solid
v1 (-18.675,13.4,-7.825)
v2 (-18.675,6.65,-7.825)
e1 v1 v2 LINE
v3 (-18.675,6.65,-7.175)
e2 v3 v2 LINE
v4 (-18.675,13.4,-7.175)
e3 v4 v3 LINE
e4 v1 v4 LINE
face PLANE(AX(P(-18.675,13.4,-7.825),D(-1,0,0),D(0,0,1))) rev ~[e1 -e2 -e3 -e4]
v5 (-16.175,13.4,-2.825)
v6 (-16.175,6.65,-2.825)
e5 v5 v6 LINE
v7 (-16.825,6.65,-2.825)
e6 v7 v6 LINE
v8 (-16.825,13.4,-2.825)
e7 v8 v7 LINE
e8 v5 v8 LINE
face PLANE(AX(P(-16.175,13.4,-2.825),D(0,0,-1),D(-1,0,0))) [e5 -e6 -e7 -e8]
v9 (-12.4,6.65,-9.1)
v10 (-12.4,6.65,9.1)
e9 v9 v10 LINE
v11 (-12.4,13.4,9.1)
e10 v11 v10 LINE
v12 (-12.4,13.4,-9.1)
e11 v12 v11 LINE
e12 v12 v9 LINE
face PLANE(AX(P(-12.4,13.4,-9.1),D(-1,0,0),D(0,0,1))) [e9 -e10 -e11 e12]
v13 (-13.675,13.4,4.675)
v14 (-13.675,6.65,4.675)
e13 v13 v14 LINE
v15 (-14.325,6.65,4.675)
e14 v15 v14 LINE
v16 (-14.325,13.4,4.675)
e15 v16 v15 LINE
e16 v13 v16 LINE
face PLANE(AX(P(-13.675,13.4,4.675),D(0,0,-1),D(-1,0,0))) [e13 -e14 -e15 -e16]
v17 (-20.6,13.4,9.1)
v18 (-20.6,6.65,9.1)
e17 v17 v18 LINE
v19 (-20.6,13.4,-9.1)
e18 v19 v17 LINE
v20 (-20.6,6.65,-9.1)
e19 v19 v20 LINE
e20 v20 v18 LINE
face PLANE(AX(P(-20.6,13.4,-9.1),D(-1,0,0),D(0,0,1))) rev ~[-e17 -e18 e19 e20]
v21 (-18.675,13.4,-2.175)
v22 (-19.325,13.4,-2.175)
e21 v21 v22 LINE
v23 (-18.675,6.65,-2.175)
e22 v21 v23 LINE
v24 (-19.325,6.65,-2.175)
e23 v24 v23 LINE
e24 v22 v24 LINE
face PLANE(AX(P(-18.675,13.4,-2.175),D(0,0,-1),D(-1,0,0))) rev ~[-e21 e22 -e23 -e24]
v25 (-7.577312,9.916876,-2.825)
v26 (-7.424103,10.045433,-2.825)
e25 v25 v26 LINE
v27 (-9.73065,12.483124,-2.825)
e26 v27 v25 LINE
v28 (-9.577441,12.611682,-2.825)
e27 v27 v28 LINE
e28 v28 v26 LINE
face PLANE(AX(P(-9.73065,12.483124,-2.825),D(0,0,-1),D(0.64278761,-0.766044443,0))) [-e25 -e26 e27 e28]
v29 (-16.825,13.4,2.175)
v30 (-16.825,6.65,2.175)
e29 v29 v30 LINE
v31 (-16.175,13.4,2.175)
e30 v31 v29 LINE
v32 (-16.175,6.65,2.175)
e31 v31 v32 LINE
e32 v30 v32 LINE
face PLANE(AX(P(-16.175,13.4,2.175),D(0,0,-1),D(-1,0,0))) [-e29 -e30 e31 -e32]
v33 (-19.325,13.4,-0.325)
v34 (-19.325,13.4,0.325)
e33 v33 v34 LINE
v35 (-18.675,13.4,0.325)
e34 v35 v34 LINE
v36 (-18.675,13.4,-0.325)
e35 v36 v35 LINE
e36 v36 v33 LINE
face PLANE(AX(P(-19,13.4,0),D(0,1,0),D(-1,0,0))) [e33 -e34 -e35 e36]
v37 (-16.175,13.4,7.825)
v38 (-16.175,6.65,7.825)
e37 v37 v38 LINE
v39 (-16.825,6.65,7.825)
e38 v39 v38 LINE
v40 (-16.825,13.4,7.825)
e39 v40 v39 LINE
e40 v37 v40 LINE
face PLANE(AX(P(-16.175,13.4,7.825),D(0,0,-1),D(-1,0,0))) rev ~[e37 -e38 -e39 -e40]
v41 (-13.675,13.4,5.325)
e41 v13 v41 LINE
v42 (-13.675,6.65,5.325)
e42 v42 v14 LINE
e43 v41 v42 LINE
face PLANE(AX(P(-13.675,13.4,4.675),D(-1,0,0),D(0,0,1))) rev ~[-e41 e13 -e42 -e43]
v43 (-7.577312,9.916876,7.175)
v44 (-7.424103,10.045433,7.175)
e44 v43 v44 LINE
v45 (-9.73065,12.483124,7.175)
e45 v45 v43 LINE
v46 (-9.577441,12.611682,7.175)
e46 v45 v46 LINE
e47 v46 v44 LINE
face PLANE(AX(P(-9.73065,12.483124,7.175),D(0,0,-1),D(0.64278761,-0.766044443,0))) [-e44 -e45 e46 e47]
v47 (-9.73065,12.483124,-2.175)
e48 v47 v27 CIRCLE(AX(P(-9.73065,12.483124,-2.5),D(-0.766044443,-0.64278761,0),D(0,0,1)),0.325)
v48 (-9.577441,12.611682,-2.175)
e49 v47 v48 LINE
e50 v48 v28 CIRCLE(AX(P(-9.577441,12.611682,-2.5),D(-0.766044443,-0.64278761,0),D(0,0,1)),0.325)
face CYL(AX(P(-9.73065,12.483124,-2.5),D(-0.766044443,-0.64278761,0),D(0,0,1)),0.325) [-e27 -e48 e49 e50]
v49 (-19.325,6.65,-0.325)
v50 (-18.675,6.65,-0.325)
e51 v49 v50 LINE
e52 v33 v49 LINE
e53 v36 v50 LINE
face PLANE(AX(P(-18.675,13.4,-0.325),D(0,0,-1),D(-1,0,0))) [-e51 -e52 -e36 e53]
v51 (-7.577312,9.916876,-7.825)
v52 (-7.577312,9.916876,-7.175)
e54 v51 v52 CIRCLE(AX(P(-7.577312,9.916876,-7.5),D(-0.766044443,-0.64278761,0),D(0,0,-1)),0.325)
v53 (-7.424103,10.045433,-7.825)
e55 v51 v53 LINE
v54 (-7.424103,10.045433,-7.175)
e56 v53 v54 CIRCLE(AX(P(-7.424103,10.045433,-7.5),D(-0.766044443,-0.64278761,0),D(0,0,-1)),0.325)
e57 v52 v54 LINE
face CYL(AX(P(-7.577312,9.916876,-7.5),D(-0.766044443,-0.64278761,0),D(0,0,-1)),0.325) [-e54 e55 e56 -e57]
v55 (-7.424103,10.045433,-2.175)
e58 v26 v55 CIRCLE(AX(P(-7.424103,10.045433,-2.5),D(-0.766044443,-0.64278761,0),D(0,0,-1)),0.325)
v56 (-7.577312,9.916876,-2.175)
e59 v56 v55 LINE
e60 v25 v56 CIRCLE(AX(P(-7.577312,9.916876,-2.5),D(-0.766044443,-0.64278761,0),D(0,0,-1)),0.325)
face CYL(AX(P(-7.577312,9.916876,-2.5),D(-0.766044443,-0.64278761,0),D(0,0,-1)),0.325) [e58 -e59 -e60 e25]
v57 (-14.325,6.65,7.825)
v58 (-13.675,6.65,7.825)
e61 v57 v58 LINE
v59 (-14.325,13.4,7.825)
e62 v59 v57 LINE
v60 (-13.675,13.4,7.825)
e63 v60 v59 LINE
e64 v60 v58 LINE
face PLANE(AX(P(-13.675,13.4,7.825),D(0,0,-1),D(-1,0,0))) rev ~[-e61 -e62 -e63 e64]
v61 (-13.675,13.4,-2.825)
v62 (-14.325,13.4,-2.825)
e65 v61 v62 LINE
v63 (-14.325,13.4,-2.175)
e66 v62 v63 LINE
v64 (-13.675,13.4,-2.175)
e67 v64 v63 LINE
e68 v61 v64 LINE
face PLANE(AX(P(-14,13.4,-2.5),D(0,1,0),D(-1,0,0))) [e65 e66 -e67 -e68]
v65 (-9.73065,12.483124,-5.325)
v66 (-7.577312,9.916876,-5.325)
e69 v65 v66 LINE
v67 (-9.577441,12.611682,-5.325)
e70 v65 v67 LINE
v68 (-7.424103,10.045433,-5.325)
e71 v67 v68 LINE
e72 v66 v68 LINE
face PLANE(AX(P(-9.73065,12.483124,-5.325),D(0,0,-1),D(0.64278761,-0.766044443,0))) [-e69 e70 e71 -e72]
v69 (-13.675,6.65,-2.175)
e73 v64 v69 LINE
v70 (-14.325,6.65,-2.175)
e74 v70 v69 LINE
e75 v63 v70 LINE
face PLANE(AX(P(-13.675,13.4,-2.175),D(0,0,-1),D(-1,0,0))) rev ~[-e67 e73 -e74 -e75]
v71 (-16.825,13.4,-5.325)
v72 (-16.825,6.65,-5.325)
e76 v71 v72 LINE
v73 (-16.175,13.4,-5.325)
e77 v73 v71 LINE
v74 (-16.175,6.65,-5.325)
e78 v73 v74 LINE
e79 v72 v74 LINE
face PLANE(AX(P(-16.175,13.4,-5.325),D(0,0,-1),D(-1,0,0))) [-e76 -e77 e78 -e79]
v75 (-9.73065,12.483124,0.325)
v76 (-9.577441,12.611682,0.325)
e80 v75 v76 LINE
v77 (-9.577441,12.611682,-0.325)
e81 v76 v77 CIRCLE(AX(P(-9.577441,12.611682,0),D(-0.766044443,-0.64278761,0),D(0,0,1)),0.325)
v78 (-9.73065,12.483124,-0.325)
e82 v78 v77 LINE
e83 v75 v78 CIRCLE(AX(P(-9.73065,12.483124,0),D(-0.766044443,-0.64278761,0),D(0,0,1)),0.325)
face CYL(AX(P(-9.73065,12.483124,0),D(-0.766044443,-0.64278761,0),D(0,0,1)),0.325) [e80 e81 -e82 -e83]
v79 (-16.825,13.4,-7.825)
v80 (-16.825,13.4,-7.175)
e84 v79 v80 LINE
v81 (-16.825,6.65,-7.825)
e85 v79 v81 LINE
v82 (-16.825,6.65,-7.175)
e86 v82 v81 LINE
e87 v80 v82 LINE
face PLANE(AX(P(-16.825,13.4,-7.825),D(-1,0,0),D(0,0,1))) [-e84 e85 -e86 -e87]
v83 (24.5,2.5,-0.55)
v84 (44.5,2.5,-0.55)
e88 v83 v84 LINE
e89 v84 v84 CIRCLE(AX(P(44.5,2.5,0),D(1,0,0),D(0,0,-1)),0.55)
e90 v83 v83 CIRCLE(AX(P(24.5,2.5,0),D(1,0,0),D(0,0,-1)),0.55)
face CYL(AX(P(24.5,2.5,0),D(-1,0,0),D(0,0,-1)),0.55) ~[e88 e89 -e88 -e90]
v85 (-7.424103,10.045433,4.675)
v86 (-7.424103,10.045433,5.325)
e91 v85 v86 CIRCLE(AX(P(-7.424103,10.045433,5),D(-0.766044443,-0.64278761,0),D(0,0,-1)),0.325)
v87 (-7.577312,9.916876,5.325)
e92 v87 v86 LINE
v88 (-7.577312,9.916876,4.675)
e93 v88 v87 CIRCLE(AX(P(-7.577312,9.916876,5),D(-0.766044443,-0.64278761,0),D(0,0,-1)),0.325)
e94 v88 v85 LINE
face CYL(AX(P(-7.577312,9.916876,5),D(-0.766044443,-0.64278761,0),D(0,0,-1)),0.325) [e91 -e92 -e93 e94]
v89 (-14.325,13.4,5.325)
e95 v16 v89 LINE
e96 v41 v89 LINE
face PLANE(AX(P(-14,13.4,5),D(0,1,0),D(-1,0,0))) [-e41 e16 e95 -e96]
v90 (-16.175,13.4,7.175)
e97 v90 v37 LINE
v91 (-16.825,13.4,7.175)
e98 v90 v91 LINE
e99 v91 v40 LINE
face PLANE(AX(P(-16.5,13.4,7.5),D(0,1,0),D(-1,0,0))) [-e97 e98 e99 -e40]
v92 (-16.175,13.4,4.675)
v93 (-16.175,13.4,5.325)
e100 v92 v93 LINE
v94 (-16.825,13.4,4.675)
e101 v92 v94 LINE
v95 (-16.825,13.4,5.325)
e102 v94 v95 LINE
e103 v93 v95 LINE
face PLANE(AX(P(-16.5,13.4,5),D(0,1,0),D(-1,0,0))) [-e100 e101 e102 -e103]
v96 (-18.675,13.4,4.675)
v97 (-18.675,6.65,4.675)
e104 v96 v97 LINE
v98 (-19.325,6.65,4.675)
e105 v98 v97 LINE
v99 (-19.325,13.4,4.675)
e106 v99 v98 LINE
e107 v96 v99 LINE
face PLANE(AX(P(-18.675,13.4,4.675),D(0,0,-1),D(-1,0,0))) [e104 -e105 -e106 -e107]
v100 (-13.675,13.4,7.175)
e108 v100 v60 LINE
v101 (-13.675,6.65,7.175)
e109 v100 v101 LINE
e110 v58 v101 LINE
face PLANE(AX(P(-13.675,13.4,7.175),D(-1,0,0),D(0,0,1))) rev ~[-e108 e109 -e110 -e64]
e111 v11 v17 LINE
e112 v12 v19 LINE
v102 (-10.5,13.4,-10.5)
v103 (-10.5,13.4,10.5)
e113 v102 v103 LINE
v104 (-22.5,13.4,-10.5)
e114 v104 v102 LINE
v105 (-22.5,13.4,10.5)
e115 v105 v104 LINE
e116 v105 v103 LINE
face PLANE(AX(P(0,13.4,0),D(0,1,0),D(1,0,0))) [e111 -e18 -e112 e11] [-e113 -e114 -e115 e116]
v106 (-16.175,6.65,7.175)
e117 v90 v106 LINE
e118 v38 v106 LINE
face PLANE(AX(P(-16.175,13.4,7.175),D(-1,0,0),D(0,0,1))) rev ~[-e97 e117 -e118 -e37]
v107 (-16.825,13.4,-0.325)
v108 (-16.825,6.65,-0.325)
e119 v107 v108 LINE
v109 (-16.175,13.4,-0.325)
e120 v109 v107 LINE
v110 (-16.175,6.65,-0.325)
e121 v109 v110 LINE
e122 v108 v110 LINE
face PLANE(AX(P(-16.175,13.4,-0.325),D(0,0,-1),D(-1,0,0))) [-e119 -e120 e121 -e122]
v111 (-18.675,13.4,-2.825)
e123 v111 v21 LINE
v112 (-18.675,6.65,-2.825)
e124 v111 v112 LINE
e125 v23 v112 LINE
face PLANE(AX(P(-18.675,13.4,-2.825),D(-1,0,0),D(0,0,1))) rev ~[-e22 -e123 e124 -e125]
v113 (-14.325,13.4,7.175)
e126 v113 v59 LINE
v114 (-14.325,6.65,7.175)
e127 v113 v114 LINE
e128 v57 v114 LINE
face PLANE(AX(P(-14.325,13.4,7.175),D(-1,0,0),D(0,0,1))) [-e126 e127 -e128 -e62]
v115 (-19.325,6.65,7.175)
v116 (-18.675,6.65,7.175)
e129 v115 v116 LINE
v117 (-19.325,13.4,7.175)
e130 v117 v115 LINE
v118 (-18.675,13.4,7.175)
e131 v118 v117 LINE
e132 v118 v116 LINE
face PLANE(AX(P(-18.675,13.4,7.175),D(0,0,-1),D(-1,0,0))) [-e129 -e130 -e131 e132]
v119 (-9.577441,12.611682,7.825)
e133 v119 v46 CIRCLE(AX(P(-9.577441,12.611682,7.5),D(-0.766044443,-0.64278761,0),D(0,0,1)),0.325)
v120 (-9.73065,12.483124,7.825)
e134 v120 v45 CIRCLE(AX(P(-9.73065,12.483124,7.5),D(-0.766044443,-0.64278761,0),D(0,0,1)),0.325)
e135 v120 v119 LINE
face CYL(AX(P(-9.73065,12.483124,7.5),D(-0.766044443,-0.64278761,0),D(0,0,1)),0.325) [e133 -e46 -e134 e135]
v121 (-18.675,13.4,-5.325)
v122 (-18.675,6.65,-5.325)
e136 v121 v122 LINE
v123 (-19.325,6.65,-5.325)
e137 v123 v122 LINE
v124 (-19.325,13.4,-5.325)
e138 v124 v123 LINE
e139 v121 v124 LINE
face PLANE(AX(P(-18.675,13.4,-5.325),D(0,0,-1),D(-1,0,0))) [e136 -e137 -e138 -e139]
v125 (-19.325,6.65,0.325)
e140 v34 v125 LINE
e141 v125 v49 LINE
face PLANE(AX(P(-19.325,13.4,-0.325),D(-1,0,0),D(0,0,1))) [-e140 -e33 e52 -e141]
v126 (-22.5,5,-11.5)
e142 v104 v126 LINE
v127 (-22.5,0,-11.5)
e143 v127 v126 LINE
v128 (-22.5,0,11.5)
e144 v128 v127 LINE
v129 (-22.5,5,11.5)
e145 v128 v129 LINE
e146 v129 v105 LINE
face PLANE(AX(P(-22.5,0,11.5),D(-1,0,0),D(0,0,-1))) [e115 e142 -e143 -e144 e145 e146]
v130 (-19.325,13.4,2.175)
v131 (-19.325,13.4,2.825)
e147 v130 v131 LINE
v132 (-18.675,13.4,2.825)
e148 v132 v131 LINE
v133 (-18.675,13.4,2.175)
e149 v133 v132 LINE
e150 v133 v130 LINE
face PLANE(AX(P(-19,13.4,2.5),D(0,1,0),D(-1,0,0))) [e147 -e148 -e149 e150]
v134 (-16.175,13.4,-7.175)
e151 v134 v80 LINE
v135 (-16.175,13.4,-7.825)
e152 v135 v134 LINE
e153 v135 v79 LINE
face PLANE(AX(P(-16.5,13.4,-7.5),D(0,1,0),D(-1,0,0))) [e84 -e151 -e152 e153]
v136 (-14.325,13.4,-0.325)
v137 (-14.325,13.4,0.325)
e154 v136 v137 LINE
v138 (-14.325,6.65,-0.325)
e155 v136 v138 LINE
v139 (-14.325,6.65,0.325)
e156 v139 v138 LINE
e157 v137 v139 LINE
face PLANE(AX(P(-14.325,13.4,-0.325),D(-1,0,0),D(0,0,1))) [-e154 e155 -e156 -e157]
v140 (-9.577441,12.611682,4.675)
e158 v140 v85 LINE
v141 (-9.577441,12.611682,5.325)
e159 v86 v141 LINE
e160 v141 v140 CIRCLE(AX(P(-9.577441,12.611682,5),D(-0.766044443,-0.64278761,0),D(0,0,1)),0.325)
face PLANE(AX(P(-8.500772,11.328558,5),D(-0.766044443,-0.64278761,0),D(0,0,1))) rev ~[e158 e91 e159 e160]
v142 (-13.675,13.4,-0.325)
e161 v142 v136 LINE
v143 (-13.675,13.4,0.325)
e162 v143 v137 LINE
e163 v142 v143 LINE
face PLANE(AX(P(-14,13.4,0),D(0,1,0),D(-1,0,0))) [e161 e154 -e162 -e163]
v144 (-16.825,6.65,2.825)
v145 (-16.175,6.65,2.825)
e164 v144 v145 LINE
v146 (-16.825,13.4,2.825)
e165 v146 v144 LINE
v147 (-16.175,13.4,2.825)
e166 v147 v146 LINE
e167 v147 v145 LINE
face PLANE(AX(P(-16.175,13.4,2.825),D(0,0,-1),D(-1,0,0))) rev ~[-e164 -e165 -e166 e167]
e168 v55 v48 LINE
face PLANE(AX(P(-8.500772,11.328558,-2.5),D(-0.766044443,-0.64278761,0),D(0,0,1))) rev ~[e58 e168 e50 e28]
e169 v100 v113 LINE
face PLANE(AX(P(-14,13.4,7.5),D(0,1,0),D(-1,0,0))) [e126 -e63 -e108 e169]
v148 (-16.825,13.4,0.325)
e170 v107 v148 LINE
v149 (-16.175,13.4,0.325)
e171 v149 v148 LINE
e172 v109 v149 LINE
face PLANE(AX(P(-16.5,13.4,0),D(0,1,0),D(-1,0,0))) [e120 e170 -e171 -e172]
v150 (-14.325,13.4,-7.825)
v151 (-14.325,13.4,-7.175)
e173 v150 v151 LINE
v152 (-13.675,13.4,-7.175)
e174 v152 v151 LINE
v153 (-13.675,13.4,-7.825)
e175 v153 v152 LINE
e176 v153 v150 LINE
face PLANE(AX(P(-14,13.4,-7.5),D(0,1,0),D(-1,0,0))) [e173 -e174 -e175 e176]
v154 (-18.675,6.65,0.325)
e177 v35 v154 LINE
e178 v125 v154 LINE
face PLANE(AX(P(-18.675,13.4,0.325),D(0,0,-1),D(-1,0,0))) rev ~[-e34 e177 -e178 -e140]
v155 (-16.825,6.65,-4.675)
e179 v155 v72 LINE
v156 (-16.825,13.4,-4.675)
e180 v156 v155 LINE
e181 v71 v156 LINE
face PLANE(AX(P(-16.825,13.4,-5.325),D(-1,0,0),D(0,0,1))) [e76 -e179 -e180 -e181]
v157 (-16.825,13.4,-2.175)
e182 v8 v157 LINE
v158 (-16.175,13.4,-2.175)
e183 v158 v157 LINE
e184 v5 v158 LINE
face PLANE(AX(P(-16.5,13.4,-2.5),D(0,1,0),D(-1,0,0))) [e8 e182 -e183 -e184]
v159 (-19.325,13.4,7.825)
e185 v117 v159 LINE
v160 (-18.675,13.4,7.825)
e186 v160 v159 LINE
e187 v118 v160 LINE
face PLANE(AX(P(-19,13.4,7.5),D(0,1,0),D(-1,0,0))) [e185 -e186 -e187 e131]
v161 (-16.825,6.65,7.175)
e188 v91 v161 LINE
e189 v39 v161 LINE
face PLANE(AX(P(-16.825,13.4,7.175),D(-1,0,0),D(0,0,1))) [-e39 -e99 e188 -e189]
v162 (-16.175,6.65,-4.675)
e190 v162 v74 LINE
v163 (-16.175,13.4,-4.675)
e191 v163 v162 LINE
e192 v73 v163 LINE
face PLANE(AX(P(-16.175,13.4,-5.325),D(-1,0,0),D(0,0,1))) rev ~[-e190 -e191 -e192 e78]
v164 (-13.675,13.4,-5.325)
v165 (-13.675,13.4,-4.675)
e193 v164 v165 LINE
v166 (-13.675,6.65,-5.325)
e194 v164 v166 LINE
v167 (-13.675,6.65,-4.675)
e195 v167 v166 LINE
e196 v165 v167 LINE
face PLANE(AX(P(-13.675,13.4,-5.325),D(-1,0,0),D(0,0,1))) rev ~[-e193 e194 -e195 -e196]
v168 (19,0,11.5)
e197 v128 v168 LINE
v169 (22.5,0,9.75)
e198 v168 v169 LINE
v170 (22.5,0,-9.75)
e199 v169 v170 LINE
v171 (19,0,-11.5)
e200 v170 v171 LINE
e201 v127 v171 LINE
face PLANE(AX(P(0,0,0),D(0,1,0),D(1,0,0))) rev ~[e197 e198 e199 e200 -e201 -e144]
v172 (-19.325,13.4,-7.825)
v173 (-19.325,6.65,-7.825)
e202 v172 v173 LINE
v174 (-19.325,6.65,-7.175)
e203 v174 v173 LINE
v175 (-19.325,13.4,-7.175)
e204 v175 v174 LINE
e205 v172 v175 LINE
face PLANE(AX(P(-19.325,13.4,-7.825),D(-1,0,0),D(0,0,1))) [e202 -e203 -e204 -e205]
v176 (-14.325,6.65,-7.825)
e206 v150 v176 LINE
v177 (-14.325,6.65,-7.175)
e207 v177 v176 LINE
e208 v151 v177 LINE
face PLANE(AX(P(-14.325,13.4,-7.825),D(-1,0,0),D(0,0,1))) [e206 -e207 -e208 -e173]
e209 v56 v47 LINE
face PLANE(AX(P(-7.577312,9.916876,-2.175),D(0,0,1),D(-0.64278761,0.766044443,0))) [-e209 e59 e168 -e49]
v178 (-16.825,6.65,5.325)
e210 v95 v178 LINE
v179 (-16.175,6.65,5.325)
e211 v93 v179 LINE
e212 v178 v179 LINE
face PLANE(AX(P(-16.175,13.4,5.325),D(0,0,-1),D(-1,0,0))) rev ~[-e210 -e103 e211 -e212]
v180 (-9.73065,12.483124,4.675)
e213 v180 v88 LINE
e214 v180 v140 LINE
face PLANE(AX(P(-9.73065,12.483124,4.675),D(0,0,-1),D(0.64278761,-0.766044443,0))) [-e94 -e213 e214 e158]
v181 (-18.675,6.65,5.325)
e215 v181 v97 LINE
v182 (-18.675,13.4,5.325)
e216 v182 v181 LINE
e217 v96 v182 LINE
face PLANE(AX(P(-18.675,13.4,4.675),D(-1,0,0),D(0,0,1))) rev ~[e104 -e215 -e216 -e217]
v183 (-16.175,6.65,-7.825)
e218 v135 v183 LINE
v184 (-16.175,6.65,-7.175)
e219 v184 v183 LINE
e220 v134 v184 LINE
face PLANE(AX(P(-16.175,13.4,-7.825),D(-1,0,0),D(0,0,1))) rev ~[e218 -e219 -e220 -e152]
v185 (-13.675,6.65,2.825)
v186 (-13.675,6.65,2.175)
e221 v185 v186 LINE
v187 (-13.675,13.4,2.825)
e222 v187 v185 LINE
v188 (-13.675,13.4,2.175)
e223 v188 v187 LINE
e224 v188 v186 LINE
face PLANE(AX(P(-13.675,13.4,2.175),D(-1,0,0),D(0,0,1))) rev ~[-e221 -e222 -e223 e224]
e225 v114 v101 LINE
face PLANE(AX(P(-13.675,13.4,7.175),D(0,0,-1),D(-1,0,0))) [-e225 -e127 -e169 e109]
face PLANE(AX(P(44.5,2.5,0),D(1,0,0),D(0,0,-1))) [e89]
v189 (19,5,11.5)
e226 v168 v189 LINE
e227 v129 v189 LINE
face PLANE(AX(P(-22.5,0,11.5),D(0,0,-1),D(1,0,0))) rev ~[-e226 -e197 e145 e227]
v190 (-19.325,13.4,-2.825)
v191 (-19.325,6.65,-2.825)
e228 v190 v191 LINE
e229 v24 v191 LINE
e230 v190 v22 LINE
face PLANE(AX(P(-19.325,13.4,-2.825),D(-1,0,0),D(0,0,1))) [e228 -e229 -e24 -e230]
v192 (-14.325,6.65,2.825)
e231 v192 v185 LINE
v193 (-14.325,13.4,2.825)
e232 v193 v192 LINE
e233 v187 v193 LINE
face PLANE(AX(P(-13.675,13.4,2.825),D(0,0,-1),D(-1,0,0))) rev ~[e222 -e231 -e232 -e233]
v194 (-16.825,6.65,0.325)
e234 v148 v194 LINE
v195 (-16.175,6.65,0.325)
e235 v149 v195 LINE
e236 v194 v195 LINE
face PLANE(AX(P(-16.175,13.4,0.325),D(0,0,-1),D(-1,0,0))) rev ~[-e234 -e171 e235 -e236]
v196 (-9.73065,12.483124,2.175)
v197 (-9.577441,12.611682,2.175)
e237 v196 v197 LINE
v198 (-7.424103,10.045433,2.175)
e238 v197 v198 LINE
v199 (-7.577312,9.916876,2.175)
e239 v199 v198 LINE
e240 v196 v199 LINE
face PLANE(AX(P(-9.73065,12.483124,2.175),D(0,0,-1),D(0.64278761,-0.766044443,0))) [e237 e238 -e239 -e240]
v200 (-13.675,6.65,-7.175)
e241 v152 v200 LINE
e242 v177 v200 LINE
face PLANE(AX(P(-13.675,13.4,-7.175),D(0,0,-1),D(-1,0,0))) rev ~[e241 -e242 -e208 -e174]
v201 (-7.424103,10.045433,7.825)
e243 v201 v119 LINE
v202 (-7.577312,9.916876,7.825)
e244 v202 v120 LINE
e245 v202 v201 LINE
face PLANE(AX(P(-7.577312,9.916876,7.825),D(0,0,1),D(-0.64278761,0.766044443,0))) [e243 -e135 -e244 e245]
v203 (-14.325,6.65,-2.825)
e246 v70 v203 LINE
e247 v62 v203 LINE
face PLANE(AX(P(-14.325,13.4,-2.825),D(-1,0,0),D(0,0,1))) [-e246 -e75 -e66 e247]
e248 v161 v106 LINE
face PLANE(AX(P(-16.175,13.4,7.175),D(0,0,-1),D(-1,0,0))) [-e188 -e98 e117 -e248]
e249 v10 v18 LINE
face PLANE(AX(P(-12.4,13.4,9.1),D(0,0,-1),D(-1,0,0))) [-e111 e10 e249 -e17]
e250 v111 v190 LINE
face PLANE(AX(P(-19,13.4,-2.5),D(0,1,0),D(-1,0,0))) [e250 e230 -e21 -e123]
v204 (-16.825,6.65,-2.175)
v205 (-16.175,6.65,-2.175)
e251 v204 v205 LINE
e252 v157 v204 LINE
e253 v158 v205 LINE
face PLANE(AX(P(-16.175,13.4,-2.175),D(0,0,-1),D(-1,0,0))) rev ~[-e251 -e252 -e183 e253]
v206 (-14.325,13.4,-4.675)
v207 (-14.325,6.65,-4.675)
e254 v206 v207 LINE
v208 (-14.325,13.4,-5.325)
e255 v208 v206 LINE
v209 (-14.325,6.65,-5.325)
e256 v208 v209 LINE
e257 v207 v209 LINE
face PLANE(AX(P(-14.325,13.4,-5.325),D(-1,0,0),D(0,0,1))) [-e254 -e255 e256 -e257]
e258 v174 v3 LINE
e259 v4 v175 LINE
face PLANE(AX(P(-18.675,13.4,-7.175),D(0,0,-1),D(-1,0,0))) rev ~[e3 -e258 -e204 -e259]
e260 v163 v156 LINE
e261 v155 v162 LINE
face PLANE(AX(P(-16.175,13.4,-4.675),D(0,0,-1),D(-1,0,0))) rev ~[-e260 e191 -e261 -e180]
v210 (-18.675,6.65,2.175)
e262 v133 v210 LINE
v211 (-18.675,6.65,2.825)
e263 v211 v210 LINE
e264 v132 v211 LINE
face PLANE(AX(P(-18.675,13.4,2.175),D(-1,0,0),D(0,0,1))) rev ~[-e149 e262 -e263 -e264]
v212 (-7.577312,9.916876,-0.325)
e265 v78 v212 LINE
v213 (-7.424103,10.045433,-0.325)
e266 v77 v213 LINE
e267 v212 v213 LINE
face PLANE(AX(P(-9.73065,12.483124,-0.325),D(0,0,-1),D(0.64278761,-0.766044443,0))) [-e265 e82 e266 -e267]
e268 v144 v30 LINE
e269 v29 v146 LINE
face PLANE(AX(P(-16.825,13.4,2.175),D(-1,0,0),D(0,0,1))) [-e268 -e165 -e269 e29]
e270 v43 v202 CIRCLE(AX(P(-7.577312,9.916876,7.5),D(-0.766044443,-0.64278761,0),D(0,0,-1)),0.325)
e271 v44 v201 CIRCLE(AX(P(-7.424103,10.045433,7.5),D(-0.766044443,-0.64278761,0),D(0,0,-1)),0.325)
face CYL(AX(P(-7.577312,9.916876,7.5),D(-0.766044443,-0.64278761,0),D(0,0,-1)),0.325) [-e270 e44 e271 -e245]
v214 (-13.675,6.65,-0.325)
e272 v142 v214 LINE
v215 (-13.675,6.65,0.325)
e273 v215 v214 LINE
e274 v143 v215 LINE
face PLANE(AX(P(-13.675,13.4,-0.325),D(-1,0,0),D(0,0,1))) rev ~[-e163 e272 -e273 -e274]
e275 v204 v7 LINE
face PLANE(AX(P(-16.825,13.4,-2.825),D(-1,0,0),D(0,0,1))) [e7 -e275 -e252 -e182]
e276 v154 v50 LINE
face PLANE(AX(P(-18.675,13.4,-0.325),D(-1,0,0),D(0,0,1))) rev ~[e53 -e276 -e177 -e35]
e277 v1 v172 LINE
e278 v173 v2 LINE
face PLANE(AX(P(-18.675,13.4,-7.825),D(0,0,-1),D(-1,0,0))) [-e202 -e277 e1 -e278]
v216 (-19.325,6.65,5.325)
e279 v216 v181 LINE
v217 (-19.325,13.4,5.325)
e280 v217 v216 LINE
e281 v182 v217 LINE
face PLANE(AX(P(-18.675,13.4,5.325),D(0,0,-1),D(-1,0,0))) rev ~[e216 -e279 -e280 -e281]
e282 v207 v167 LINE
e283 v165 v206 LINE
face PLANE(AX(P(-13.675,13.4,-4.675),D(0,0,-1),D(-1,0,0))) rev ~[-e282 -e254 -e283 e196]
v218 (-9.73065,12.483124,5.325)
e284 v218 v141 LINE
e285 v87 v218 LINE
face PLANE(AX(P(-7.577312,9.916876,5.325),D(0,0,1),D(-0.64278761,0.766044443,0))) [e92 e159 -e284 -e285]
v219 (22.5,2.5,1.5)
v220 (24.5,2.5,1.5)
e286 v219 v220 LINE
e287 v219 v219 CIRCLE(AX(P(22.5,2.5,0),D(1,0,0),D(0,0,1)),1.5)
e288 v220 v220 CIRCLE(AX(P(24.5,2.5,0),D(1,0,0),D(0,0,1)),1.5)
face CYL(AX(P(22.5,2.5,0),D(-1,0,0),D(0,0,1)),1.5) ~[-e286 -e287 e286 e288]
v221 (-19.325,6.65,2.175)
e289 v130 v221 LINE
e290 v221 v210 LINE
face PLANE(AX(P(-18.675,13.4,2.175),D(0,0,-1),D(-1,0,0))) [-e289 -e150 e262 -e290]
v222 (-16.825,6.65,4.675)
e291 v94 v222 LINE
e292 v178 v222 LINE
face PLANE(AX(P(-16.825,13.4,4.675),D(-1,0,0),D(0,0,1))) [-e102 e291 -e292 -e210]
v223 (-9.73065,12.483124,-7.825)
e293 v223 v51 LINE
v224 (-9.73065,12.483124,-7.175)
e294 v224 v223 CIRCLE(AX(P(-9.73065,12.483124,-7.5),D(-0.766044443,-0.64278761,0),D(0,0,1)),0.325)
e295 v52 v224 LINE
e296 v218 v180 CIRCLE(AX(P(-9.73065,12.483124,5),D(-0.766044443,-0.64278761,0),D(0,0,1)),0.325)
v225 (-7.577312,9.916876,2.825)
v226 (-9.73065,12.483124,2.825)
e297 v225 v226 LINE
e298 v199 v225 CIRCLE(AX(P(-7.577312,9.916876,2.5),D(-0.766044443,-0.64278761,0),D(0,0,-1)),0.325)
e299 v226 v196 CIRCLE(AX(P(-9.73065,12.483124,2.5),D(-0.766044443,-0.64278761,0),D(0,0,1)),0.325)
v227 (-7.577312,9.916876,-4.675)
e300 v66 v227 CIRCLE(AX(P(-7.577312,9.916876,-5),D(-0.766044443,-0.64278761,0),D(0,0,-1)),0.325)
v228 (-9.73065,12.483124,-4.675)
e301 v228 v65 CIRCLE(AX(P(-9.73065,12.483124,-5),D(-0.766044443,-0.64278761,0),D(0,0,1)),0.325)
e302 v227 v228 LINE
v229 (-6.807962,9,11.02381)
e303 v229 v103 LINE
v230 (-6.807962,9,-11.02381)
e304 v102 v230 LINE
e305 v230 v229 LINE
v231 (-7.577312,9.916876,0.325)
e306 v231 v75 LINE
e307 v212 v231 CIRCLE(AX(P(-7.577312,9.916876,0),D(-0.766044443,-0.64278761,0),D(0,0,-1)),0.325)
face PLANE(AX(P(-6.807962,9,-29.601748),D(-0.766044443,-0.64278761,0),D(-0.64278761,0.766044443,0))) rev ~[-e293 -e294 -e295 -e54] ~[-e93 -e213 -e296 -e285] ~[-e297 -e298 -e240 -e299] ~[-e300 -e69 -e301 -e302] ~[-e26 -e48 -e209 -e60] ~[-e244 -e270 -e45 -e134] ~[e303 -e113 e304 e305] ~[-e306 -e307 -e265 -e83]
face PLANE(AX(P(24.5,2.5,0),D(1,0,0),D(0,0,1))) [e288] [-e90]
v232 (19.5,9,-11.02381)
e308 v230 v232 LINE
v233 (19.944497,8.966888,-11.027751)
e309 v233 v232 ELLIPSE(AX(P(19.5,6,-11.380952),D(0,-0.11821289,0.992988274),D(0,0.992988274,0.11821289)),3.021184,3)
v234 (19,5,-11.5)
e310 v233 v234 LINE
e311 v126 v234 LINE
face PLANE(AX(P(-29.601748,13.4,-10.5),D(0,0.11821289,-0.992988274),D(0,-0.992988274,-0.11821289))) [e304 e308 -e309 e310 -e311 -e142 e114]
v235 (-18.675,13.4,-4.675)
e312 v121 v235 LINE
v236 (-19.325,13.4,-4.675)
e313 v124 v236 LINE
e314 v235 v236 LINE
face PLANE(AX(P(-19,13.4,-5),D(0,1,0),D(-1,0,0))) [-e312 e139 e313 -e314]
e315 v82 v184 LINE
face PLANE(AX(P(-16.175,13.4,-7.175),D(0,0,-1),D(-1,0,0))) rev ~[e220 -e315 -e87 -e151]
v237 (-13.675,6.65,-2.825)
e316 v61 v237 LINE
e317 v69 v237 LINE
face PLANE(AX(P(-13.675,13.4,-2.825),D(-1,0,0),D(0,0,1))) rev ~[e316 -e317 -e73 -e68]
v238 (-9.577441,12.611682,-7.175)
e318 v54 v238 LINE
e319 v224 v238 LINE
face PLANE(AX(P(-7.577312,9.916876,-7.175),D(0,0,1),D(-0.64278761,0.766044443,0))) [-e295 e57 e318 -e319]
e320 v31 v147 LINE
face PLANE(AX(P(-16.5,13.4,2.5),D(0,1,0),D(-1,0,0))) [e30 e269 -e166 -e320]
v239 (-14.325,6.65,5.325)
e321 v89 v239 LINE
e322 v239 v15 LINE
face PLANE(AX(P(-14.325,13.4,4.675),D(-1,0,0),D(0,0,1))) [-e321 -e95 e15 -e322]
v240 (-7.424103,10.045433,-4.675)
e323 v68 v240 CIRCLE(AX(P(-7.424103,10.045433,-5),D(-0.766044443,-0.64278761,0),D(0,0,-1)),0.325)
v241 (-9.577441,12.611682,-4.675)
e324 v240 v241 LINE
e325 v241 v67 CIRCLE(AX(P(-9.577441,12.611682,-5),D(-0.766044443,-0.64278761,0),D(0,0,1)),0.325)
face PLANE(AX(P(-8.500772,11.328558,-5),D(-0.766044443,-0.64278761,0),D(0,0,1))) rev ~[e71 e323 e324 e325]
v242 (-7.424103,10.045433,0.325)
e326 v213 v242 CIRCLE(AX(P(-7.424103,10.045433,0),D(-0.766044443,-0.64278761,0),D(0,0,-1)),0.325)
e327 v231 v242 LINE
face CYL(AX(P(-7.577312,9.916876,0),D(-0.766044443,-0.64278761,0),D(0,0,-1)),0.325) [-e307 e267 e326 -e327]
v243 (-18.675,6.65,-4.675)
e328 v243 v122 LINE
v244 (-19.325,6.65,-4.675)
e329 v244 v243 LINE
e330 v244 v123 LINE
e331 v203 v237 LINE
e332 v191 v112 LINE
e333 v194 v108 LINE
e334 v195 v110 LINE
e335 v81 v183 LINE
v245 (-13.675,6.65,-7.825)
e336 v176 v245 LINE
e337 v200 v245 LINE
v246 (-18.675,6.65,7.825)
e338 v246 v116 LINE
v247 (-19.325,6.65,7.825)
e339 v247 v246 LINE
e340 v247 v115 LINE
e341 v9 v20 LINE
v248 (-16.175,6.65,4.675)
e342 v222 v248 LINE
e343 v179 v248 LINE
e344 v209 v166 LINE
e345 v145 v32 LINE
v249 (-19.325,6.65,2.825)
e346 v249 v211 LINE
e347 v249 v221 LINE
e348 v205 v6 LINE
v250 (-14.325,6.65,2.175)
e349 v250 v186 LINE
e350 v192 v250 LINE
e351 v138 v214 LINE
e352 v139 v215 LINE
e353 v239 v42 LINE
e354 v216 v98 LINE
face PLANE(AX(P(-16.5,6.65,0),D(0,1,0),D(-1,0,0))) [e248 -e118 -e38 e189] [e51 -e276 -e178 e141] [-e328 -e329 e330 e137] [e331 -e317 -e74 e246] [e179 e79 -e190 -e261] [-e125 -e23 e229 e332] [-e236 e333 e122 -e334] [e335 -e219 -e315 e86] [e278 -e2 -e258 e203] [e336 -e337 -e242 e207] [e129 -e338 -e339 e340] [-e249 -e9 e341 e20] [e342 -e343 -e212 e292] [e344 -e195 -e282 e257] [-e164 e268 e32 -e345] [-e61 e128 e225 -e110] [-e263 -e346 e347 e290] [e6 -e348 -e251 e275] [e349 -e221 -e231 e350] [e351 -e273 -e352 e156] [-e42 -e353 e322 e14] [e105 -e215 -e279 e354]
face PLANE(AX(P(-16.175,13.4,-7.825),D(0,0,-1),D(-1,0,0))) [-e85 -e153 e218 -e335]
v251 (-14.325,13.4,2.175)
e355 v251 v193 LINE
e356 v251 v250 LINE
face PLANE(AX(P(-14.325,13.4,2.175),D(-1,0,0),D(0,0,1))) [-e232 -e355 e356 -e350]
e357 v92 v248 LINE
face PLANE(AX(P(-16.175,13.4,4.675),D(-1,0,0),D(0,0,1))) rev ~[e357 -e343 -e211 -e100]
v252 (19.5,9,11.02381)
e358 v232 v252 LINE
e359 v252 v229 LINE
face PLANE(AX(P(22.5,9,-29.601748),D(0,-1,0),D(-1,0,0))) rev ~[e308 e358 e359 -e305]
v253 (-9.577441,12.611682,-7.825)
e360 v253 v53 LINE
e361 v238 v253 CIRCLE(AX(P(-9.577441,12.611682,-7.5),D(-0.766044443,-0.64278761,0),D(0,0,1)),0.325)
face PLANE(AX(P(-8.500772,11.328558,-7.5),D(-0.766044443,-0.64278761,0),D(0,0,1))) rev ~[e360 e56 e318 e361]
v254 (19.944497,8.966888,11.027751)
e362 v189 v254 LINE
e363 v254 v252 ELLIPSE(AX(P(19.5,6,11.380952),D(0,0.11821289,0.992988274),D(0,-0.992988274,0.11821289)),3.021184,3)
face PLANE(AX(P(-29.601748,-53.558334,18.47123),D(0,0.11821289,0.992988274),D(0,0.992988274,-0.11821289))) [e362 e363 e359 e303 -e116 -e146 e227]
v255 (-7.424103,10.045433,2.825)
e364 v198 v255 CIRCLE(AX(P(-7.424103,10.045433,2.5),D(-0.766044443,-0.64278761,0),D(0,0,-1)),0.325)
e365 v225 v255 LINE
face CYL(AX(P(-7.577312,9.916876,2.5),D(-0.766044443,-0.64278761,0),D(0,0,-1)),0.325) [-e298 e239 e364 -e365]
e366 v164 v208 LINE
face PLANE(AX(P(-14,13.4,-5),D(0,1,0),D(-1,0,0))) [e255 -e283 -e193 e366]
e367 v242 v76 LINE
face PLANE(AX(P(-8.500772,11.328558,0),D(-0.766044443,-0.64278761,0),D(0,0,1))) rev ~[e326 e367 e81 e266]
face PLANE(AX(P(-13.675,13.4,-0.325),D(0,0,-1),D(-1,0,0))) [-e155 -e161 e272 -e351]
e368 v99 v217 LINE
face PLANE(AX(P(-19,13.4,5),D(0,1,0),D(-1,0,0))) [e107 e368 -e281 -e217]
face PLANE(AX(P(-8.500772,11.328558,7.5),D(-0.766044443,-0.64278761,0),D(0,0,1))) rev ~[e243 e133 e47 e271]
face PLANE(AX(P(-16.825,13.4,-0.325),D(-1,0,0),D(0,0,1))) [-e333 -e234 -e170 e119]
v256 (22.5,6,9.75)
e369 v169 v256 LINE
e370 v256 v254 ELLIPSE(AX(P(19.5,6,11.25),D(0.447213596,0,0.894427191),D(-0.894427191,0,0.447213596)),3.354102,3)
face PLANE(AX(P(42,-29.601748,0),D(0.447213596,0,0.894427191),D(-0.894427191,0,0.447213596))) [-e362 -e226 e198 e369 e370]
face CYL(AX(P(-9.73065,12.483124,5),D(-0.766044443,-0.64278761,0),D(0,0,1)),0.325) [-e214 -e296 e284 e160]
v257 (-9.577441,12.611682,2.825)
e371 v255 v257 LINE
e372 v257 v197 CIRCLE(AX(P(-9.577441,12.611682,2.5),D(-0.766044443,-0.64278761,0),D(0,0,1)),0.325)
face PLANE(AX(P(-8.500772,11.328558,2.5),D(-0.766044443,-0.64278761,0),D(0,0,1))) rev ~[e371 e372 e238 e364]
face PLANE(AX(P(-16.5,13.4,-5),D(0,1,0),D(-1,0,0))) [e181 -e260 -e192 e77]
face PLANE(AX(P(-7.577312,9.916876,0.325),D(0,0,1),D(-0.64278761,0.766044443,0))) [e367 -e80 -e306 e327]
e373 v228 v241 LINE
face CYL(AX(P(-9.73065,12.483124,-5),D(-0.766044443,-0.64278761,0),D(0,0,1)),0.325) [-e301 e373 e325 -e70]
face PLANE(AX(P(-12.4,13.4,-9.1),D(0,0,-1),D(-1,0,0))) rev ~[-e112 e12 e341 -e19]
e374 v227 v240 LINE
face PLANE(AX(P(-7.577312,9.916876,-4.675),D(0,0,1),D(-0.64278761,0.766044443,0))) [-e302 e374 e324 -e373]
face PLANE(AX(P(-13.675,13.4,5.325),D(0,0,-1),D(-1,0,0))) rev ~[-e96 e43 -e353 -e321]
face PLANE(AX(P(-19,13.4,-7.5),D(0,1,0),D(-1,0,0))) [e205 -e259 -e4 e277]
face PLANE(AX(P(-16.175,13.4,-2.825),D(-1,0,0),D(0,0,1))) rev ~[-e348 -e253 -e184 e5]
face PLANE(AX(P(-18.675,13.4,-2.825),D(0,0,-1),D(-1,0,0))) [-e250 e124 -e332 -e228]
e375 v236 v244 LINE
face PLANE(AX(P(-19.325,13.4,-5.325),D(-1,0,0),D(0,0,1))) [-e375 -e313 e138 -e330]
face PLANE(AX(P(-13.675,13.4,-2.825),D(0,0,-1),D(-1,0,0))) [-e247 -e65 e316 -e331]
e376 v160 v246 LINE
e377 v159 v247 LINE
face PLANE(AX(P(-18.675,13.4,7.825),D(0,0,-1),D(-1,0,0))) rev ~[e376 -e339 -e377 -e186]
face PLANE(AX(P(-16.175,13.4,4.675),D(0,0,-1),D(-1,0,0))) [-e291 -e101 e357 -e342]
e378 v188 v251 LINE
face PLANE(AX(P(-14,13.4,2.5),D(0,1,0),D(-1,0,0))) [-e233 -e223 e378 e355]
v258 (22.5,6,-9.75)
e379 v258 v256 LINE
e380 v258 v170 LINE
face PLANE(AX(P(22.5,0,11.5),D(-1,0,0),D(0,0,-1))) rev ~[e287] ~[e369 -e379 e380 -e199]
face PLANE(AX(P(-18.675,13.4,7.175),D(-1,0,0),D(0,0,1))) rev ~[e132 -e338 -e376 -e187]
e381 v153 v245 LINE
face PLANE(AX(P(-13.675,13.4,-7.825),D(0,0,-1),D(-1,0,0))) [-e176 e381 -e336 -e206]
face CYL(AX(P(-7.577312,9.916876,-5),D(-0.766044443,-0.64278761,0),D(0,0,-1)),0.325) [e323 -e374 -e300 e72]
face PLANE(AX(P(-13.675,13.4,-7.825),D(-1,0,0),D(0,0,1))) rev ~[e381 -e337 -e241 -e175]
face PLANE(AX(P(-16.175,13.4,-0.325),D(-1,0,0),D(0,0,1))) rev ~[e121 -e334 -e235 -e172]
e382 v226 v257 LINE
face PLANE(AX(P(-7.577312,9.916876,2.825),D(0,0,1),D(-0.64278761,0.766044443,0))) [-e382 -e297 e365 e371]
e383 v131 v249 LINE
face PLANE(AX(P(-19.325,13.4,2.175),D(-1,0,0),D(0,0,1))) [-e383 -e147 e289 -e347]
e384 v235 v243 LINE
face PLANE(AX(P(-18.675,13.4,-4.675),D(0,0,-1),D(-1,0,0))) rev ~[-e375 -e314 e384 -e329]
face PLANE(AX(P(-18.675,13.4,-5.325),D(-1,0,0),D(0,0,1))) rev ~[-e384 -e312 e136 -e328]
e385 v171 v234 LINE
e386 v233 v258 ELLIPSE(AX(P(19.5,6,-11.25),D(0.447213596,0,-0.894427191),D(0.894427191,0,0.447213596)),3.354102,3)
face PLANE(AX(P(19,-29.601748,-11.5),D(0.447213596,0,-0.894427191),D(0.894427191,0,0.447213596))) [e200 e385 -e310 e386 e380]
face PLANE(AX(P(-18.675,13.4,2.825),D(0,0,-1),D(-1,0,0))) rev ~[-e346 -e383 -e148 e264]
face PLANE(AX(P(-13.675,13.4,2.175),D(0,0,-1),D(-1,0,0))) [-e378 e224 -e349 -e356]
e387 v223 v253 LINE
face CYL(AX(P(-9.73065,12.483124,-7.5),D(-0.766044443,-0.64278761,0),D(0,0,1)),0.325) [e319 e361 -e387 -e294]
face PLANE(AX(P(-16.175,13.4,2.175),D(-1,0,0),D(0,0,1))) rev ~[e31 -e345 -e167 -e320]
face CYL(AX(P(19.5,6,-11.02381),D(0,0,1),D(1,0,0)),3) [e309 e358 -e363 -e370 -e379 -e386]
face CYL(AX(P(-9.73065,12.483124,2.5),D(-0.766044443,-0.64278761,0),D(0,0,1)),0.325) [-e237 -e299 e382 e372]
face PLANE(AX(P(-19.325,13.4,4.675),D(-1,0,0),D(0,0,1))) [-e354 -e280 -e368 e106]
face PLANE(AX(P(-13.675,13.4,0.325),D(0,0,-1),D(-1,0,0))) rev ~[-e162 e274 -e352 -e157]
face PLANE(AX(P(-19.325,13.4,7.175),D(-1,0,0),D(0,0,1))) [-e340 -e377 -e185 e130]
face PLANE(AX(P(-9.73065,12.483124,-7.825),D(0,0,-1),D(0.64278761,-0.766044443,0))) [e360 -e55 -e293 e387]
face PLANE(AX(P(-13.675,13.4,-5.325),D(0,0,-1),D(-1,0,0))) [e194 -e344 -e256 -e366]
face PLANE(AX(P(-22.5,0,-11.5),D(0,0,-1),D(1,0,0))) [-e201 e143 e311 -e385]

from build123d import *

# Parameters (mm, degrees)
ESQUISSE1_W                     = 45
ESQUISSE1_H                     = 23
EXTRUSION1_DEPTH                = 13.4
ENL_V_MAT_EXTRU_1_DEPTH         = 29.601748198
ENL_V_MAT_EXTRU_1_DEPTH_BACK    = 29.601748198
ENL_V_MAT_EXTRU_2_DEPTH         = 29.601748198
ENL_V_MAT_EXTRU_2_DEPTH_BACK    = 29.601748198
CONG_1_R                        = 3
ENL_V_MAT_EXTRU_3_DEPTH         = 29.601748198
ENL_V_MAT_EXTRU_3_DEPTH_BACK    = 29.601748198
ESQUISSE5_W                     = 8.2
ESQUISSE5_H                     = 18.2
ENL_V_MAT_EXTRU_4_DEPTH         = 6.75
ESQUISSE6_R                     = 1.5
EXTRUSION2_DEPTH                = 2
ESQUISSE7_R                     = 0.55
EXTRUSION3_DEPTH                = 20
EXTRUSION4_REACH                = 49.875
ESQUISSE8_W                     = 0.65
ESQUISSE8_H                     = 0.65
R_P_TITION_LIN_AIRE1_COUNT      = 3
R_P_TITION_LIN_AIRE1_PITCH      = 2.5
R_P_TITION_LIN_AIRE1_COUNT_DIR2 = 7
R_P_TITION_LIN_AIRE1_PITCH_DIR2 = 2.5
EXTRUSION5_DEPTH                = 0.2
R_P_TITION_LIN_AIRE2_COUNT      = 7
R_P_TITION_LIN_AIRE2_PITCH      = 2.5


with BuildPart() as part:
    # Esquisse1 → Extrusion1 (new body)
    with BuildSketch(Plane(origin=(0, 0, 0), x_dir=(1, 0, 0), z_dir=(0, 1, 0))):
        Rectangle(ESQUISSE1_W, ESQUISSE1_H)
    extrude(amount=EXTRUSION1_DEPTH)

    # Esquisse2 → Enlèv. mat.-Extru.1 (cut, two sides: drawn at the far end of the back side and taken through both)
    with BuildSketch(Plane.XY.offset(-ENL_V_MAT_EXTRU_1_DEPTH_BACK)):
        Polygon((22.5, 13.4), (22.5, 9), (-6.807961623, 9), (-10.5, 13.4), align=None)
    extrude(amount=ENL_V_MAT_EXTRU_1_DEPTH + ENL_V_MAT_EXTRU_1_DEPTH_BACK, mode=Mode.SUBTRACT)

    # Esquisse3 → Enlèv. mat.-Extru.2 (cut, two sides: drawn at the far end of the back side and taken through both)
    with BuildSketch(Plane(origin=(0, 0, 0), x_dir=(0, 0, -1), z_dir=(1, 0, 0)).offset(-ENL_V_MAT_EXTRU_2_DEPTH_BACK)):
        Polygon((18.471230279, -53.558334344), (11.5, 5), (10.5, 13.4), (-10.5, 13.4), (-11.5, 5), (-18.471230279, -53.558334344), (-18.471230279, 64.385322929), (18.471230279, 64.385322929), align=None)
    extrude(amount=ENL_V_MAT_EXTRU_2_DEPTH + ENL_V_MAT_EXTRU_2_DEPTH_BACK, mode=Mode.SUBTRACT)

    # Congé1
    cong_1_edges = [part.edges().sort_by_distance(p)[0] for p in [
        (22.5, 9, 0),
    ]]
    fillet(cong_1_edges, radius=CONG_1_R)

    # Esquisse4 → Enlèv. mat.-Extru.3 (cut, two sides: drawn at the far end of the back side and taken through both)
    with BuildSketch(Plane(origin=(0, 0, 0), x_dir=(1, 0, 0), z_dir=(0, 1, 0)).offset(-ENL_V_MAT_EXTRU_3_DEPTH_BACK)):
        Polygon((133.574230148, 11.5), (22.5, 11.5), (19, 11.5), (42, 0), (19, -11.5), (22.5, -11.5), (133.574230148, -11.5), (355.722690444, -11.5), (355.722690444, 11.5), align=None)
    extrude(amount=ENL_V_MAT_EXTRU_3_DEPTH + ENL_V_MAT_EXTRU_3_DEPTH_BACK, mode=Mode.SUBTRACT)

    # Esquisse5 → Enlèv. mat.-Extru.4 (cut)
    with BuildSketch(Plane(origin=(0, 13.4, 0), x_dir=(-1, 0, 0), z_dir=(0, 1, 0))):
        with Locations((16.5, 0)):
            Rectangle(ESQUISSE5_W, ESQUISSE5_H)
    extrude(amount=-ENL_V_MAT_EXTRU_4_DEPTH, mode=Mode.SUBTRACT)

    # Esquisse6 → Extrusion2 (add)
    with BuildSketch(Plane(origin=(22.5, 0, 0), x_dir=(0, 0, -1), z_dir=(1, 0, 0))):
        with Locations(Location((0, 2.5, 0), (0, 0, 180))):
            Circle(ESQUISSE6_R)
    extrude(amount=EXTRUSION2_DEPTH)

    # Esquisse7 → Extrusion3 (add)
    with BuildSketch(Plane(origin=(24.5, 0, 0), x_dir=(0, 0, -1), z_dir=(1, 0, 0))):
        with Locations((0, 2.5)):
            Circle(ESQUISSE7_R)
    extrude(amount=EXTRUSION3_DEPTH)

    # Esquisse8 → Extrusion4 (add, up to next)
    with BuildSketch(Plane(origin=(0, 13.4, 0), x_dir=(-1, 0, 0), z_dir=(0, 1, 0)), mode=Mode.PRIVATE) as extrusion4_sk1:
        with Locations((14, -7.5)):
            Rectangle(ESQUISSE8_W, ESQUISSE8_H)
    extrusion4_tool1 = extrude(extrusion4_sk1.sketch, amount=-EXTRUSION4_REACH, mode=Mode.PRIVATE) - part.part
    extrusion4 = extrusion4_tool1.solids().sort_by_distance((-14, 13.4, -7.5))[0]
    add(extrusion4)

    # Répétition linéaire1: Extrusion4 3 × 7
    with Locations(*[(-i * R_P_TITION_LIN_AIRE1_PITCH, 0, j * R_P_TITION_LIN_AIRE1_PITCH_DIR2) for i in range(R_P_TITION_LIN_AIRE1_COUNT) for j in range(R_P_TITION_LIN_AIRE1_COUNT_DIR2) if (i, j) != (0, 0)]):
        add(extrusion4)

    # Esquisse9 → Extrusion5 (add)
    with BuildSketch(Plane(origin=(0.436559012, 0.366316506, 0), x_dir=(0, 0, -1), z_dir=(0.766044443118982, 0.6427876096865347, 0))):
        with BuildLine():
            Line((7.175, 12.467369403), (7.175, 15.817369403))
            ThreePointArc((7.175, 15.817369403), (7.5, 16.142369403), (7.825, 15.817369403))
            Line((7.825, 15.817369403), (7.825, 12.467369403))
            ThreePointArc((7.825, 12.467369403), (7.5, 12.142369403), (7.175, 12.467369403))
        make_face()
    extrusion5 = extrude(amount=EXTRUSION5_DEPTH)

    # Répétition linéaire2: Extrusion5 ×7
    with Locations(*[(0, 0, i * R_P_TITION_LIN_AIRE2_PITCH) for i in range(1, R_P_TITION_LIN_AIRE2_COUNT)]):
        add(extrusion5)


solid = part.part
